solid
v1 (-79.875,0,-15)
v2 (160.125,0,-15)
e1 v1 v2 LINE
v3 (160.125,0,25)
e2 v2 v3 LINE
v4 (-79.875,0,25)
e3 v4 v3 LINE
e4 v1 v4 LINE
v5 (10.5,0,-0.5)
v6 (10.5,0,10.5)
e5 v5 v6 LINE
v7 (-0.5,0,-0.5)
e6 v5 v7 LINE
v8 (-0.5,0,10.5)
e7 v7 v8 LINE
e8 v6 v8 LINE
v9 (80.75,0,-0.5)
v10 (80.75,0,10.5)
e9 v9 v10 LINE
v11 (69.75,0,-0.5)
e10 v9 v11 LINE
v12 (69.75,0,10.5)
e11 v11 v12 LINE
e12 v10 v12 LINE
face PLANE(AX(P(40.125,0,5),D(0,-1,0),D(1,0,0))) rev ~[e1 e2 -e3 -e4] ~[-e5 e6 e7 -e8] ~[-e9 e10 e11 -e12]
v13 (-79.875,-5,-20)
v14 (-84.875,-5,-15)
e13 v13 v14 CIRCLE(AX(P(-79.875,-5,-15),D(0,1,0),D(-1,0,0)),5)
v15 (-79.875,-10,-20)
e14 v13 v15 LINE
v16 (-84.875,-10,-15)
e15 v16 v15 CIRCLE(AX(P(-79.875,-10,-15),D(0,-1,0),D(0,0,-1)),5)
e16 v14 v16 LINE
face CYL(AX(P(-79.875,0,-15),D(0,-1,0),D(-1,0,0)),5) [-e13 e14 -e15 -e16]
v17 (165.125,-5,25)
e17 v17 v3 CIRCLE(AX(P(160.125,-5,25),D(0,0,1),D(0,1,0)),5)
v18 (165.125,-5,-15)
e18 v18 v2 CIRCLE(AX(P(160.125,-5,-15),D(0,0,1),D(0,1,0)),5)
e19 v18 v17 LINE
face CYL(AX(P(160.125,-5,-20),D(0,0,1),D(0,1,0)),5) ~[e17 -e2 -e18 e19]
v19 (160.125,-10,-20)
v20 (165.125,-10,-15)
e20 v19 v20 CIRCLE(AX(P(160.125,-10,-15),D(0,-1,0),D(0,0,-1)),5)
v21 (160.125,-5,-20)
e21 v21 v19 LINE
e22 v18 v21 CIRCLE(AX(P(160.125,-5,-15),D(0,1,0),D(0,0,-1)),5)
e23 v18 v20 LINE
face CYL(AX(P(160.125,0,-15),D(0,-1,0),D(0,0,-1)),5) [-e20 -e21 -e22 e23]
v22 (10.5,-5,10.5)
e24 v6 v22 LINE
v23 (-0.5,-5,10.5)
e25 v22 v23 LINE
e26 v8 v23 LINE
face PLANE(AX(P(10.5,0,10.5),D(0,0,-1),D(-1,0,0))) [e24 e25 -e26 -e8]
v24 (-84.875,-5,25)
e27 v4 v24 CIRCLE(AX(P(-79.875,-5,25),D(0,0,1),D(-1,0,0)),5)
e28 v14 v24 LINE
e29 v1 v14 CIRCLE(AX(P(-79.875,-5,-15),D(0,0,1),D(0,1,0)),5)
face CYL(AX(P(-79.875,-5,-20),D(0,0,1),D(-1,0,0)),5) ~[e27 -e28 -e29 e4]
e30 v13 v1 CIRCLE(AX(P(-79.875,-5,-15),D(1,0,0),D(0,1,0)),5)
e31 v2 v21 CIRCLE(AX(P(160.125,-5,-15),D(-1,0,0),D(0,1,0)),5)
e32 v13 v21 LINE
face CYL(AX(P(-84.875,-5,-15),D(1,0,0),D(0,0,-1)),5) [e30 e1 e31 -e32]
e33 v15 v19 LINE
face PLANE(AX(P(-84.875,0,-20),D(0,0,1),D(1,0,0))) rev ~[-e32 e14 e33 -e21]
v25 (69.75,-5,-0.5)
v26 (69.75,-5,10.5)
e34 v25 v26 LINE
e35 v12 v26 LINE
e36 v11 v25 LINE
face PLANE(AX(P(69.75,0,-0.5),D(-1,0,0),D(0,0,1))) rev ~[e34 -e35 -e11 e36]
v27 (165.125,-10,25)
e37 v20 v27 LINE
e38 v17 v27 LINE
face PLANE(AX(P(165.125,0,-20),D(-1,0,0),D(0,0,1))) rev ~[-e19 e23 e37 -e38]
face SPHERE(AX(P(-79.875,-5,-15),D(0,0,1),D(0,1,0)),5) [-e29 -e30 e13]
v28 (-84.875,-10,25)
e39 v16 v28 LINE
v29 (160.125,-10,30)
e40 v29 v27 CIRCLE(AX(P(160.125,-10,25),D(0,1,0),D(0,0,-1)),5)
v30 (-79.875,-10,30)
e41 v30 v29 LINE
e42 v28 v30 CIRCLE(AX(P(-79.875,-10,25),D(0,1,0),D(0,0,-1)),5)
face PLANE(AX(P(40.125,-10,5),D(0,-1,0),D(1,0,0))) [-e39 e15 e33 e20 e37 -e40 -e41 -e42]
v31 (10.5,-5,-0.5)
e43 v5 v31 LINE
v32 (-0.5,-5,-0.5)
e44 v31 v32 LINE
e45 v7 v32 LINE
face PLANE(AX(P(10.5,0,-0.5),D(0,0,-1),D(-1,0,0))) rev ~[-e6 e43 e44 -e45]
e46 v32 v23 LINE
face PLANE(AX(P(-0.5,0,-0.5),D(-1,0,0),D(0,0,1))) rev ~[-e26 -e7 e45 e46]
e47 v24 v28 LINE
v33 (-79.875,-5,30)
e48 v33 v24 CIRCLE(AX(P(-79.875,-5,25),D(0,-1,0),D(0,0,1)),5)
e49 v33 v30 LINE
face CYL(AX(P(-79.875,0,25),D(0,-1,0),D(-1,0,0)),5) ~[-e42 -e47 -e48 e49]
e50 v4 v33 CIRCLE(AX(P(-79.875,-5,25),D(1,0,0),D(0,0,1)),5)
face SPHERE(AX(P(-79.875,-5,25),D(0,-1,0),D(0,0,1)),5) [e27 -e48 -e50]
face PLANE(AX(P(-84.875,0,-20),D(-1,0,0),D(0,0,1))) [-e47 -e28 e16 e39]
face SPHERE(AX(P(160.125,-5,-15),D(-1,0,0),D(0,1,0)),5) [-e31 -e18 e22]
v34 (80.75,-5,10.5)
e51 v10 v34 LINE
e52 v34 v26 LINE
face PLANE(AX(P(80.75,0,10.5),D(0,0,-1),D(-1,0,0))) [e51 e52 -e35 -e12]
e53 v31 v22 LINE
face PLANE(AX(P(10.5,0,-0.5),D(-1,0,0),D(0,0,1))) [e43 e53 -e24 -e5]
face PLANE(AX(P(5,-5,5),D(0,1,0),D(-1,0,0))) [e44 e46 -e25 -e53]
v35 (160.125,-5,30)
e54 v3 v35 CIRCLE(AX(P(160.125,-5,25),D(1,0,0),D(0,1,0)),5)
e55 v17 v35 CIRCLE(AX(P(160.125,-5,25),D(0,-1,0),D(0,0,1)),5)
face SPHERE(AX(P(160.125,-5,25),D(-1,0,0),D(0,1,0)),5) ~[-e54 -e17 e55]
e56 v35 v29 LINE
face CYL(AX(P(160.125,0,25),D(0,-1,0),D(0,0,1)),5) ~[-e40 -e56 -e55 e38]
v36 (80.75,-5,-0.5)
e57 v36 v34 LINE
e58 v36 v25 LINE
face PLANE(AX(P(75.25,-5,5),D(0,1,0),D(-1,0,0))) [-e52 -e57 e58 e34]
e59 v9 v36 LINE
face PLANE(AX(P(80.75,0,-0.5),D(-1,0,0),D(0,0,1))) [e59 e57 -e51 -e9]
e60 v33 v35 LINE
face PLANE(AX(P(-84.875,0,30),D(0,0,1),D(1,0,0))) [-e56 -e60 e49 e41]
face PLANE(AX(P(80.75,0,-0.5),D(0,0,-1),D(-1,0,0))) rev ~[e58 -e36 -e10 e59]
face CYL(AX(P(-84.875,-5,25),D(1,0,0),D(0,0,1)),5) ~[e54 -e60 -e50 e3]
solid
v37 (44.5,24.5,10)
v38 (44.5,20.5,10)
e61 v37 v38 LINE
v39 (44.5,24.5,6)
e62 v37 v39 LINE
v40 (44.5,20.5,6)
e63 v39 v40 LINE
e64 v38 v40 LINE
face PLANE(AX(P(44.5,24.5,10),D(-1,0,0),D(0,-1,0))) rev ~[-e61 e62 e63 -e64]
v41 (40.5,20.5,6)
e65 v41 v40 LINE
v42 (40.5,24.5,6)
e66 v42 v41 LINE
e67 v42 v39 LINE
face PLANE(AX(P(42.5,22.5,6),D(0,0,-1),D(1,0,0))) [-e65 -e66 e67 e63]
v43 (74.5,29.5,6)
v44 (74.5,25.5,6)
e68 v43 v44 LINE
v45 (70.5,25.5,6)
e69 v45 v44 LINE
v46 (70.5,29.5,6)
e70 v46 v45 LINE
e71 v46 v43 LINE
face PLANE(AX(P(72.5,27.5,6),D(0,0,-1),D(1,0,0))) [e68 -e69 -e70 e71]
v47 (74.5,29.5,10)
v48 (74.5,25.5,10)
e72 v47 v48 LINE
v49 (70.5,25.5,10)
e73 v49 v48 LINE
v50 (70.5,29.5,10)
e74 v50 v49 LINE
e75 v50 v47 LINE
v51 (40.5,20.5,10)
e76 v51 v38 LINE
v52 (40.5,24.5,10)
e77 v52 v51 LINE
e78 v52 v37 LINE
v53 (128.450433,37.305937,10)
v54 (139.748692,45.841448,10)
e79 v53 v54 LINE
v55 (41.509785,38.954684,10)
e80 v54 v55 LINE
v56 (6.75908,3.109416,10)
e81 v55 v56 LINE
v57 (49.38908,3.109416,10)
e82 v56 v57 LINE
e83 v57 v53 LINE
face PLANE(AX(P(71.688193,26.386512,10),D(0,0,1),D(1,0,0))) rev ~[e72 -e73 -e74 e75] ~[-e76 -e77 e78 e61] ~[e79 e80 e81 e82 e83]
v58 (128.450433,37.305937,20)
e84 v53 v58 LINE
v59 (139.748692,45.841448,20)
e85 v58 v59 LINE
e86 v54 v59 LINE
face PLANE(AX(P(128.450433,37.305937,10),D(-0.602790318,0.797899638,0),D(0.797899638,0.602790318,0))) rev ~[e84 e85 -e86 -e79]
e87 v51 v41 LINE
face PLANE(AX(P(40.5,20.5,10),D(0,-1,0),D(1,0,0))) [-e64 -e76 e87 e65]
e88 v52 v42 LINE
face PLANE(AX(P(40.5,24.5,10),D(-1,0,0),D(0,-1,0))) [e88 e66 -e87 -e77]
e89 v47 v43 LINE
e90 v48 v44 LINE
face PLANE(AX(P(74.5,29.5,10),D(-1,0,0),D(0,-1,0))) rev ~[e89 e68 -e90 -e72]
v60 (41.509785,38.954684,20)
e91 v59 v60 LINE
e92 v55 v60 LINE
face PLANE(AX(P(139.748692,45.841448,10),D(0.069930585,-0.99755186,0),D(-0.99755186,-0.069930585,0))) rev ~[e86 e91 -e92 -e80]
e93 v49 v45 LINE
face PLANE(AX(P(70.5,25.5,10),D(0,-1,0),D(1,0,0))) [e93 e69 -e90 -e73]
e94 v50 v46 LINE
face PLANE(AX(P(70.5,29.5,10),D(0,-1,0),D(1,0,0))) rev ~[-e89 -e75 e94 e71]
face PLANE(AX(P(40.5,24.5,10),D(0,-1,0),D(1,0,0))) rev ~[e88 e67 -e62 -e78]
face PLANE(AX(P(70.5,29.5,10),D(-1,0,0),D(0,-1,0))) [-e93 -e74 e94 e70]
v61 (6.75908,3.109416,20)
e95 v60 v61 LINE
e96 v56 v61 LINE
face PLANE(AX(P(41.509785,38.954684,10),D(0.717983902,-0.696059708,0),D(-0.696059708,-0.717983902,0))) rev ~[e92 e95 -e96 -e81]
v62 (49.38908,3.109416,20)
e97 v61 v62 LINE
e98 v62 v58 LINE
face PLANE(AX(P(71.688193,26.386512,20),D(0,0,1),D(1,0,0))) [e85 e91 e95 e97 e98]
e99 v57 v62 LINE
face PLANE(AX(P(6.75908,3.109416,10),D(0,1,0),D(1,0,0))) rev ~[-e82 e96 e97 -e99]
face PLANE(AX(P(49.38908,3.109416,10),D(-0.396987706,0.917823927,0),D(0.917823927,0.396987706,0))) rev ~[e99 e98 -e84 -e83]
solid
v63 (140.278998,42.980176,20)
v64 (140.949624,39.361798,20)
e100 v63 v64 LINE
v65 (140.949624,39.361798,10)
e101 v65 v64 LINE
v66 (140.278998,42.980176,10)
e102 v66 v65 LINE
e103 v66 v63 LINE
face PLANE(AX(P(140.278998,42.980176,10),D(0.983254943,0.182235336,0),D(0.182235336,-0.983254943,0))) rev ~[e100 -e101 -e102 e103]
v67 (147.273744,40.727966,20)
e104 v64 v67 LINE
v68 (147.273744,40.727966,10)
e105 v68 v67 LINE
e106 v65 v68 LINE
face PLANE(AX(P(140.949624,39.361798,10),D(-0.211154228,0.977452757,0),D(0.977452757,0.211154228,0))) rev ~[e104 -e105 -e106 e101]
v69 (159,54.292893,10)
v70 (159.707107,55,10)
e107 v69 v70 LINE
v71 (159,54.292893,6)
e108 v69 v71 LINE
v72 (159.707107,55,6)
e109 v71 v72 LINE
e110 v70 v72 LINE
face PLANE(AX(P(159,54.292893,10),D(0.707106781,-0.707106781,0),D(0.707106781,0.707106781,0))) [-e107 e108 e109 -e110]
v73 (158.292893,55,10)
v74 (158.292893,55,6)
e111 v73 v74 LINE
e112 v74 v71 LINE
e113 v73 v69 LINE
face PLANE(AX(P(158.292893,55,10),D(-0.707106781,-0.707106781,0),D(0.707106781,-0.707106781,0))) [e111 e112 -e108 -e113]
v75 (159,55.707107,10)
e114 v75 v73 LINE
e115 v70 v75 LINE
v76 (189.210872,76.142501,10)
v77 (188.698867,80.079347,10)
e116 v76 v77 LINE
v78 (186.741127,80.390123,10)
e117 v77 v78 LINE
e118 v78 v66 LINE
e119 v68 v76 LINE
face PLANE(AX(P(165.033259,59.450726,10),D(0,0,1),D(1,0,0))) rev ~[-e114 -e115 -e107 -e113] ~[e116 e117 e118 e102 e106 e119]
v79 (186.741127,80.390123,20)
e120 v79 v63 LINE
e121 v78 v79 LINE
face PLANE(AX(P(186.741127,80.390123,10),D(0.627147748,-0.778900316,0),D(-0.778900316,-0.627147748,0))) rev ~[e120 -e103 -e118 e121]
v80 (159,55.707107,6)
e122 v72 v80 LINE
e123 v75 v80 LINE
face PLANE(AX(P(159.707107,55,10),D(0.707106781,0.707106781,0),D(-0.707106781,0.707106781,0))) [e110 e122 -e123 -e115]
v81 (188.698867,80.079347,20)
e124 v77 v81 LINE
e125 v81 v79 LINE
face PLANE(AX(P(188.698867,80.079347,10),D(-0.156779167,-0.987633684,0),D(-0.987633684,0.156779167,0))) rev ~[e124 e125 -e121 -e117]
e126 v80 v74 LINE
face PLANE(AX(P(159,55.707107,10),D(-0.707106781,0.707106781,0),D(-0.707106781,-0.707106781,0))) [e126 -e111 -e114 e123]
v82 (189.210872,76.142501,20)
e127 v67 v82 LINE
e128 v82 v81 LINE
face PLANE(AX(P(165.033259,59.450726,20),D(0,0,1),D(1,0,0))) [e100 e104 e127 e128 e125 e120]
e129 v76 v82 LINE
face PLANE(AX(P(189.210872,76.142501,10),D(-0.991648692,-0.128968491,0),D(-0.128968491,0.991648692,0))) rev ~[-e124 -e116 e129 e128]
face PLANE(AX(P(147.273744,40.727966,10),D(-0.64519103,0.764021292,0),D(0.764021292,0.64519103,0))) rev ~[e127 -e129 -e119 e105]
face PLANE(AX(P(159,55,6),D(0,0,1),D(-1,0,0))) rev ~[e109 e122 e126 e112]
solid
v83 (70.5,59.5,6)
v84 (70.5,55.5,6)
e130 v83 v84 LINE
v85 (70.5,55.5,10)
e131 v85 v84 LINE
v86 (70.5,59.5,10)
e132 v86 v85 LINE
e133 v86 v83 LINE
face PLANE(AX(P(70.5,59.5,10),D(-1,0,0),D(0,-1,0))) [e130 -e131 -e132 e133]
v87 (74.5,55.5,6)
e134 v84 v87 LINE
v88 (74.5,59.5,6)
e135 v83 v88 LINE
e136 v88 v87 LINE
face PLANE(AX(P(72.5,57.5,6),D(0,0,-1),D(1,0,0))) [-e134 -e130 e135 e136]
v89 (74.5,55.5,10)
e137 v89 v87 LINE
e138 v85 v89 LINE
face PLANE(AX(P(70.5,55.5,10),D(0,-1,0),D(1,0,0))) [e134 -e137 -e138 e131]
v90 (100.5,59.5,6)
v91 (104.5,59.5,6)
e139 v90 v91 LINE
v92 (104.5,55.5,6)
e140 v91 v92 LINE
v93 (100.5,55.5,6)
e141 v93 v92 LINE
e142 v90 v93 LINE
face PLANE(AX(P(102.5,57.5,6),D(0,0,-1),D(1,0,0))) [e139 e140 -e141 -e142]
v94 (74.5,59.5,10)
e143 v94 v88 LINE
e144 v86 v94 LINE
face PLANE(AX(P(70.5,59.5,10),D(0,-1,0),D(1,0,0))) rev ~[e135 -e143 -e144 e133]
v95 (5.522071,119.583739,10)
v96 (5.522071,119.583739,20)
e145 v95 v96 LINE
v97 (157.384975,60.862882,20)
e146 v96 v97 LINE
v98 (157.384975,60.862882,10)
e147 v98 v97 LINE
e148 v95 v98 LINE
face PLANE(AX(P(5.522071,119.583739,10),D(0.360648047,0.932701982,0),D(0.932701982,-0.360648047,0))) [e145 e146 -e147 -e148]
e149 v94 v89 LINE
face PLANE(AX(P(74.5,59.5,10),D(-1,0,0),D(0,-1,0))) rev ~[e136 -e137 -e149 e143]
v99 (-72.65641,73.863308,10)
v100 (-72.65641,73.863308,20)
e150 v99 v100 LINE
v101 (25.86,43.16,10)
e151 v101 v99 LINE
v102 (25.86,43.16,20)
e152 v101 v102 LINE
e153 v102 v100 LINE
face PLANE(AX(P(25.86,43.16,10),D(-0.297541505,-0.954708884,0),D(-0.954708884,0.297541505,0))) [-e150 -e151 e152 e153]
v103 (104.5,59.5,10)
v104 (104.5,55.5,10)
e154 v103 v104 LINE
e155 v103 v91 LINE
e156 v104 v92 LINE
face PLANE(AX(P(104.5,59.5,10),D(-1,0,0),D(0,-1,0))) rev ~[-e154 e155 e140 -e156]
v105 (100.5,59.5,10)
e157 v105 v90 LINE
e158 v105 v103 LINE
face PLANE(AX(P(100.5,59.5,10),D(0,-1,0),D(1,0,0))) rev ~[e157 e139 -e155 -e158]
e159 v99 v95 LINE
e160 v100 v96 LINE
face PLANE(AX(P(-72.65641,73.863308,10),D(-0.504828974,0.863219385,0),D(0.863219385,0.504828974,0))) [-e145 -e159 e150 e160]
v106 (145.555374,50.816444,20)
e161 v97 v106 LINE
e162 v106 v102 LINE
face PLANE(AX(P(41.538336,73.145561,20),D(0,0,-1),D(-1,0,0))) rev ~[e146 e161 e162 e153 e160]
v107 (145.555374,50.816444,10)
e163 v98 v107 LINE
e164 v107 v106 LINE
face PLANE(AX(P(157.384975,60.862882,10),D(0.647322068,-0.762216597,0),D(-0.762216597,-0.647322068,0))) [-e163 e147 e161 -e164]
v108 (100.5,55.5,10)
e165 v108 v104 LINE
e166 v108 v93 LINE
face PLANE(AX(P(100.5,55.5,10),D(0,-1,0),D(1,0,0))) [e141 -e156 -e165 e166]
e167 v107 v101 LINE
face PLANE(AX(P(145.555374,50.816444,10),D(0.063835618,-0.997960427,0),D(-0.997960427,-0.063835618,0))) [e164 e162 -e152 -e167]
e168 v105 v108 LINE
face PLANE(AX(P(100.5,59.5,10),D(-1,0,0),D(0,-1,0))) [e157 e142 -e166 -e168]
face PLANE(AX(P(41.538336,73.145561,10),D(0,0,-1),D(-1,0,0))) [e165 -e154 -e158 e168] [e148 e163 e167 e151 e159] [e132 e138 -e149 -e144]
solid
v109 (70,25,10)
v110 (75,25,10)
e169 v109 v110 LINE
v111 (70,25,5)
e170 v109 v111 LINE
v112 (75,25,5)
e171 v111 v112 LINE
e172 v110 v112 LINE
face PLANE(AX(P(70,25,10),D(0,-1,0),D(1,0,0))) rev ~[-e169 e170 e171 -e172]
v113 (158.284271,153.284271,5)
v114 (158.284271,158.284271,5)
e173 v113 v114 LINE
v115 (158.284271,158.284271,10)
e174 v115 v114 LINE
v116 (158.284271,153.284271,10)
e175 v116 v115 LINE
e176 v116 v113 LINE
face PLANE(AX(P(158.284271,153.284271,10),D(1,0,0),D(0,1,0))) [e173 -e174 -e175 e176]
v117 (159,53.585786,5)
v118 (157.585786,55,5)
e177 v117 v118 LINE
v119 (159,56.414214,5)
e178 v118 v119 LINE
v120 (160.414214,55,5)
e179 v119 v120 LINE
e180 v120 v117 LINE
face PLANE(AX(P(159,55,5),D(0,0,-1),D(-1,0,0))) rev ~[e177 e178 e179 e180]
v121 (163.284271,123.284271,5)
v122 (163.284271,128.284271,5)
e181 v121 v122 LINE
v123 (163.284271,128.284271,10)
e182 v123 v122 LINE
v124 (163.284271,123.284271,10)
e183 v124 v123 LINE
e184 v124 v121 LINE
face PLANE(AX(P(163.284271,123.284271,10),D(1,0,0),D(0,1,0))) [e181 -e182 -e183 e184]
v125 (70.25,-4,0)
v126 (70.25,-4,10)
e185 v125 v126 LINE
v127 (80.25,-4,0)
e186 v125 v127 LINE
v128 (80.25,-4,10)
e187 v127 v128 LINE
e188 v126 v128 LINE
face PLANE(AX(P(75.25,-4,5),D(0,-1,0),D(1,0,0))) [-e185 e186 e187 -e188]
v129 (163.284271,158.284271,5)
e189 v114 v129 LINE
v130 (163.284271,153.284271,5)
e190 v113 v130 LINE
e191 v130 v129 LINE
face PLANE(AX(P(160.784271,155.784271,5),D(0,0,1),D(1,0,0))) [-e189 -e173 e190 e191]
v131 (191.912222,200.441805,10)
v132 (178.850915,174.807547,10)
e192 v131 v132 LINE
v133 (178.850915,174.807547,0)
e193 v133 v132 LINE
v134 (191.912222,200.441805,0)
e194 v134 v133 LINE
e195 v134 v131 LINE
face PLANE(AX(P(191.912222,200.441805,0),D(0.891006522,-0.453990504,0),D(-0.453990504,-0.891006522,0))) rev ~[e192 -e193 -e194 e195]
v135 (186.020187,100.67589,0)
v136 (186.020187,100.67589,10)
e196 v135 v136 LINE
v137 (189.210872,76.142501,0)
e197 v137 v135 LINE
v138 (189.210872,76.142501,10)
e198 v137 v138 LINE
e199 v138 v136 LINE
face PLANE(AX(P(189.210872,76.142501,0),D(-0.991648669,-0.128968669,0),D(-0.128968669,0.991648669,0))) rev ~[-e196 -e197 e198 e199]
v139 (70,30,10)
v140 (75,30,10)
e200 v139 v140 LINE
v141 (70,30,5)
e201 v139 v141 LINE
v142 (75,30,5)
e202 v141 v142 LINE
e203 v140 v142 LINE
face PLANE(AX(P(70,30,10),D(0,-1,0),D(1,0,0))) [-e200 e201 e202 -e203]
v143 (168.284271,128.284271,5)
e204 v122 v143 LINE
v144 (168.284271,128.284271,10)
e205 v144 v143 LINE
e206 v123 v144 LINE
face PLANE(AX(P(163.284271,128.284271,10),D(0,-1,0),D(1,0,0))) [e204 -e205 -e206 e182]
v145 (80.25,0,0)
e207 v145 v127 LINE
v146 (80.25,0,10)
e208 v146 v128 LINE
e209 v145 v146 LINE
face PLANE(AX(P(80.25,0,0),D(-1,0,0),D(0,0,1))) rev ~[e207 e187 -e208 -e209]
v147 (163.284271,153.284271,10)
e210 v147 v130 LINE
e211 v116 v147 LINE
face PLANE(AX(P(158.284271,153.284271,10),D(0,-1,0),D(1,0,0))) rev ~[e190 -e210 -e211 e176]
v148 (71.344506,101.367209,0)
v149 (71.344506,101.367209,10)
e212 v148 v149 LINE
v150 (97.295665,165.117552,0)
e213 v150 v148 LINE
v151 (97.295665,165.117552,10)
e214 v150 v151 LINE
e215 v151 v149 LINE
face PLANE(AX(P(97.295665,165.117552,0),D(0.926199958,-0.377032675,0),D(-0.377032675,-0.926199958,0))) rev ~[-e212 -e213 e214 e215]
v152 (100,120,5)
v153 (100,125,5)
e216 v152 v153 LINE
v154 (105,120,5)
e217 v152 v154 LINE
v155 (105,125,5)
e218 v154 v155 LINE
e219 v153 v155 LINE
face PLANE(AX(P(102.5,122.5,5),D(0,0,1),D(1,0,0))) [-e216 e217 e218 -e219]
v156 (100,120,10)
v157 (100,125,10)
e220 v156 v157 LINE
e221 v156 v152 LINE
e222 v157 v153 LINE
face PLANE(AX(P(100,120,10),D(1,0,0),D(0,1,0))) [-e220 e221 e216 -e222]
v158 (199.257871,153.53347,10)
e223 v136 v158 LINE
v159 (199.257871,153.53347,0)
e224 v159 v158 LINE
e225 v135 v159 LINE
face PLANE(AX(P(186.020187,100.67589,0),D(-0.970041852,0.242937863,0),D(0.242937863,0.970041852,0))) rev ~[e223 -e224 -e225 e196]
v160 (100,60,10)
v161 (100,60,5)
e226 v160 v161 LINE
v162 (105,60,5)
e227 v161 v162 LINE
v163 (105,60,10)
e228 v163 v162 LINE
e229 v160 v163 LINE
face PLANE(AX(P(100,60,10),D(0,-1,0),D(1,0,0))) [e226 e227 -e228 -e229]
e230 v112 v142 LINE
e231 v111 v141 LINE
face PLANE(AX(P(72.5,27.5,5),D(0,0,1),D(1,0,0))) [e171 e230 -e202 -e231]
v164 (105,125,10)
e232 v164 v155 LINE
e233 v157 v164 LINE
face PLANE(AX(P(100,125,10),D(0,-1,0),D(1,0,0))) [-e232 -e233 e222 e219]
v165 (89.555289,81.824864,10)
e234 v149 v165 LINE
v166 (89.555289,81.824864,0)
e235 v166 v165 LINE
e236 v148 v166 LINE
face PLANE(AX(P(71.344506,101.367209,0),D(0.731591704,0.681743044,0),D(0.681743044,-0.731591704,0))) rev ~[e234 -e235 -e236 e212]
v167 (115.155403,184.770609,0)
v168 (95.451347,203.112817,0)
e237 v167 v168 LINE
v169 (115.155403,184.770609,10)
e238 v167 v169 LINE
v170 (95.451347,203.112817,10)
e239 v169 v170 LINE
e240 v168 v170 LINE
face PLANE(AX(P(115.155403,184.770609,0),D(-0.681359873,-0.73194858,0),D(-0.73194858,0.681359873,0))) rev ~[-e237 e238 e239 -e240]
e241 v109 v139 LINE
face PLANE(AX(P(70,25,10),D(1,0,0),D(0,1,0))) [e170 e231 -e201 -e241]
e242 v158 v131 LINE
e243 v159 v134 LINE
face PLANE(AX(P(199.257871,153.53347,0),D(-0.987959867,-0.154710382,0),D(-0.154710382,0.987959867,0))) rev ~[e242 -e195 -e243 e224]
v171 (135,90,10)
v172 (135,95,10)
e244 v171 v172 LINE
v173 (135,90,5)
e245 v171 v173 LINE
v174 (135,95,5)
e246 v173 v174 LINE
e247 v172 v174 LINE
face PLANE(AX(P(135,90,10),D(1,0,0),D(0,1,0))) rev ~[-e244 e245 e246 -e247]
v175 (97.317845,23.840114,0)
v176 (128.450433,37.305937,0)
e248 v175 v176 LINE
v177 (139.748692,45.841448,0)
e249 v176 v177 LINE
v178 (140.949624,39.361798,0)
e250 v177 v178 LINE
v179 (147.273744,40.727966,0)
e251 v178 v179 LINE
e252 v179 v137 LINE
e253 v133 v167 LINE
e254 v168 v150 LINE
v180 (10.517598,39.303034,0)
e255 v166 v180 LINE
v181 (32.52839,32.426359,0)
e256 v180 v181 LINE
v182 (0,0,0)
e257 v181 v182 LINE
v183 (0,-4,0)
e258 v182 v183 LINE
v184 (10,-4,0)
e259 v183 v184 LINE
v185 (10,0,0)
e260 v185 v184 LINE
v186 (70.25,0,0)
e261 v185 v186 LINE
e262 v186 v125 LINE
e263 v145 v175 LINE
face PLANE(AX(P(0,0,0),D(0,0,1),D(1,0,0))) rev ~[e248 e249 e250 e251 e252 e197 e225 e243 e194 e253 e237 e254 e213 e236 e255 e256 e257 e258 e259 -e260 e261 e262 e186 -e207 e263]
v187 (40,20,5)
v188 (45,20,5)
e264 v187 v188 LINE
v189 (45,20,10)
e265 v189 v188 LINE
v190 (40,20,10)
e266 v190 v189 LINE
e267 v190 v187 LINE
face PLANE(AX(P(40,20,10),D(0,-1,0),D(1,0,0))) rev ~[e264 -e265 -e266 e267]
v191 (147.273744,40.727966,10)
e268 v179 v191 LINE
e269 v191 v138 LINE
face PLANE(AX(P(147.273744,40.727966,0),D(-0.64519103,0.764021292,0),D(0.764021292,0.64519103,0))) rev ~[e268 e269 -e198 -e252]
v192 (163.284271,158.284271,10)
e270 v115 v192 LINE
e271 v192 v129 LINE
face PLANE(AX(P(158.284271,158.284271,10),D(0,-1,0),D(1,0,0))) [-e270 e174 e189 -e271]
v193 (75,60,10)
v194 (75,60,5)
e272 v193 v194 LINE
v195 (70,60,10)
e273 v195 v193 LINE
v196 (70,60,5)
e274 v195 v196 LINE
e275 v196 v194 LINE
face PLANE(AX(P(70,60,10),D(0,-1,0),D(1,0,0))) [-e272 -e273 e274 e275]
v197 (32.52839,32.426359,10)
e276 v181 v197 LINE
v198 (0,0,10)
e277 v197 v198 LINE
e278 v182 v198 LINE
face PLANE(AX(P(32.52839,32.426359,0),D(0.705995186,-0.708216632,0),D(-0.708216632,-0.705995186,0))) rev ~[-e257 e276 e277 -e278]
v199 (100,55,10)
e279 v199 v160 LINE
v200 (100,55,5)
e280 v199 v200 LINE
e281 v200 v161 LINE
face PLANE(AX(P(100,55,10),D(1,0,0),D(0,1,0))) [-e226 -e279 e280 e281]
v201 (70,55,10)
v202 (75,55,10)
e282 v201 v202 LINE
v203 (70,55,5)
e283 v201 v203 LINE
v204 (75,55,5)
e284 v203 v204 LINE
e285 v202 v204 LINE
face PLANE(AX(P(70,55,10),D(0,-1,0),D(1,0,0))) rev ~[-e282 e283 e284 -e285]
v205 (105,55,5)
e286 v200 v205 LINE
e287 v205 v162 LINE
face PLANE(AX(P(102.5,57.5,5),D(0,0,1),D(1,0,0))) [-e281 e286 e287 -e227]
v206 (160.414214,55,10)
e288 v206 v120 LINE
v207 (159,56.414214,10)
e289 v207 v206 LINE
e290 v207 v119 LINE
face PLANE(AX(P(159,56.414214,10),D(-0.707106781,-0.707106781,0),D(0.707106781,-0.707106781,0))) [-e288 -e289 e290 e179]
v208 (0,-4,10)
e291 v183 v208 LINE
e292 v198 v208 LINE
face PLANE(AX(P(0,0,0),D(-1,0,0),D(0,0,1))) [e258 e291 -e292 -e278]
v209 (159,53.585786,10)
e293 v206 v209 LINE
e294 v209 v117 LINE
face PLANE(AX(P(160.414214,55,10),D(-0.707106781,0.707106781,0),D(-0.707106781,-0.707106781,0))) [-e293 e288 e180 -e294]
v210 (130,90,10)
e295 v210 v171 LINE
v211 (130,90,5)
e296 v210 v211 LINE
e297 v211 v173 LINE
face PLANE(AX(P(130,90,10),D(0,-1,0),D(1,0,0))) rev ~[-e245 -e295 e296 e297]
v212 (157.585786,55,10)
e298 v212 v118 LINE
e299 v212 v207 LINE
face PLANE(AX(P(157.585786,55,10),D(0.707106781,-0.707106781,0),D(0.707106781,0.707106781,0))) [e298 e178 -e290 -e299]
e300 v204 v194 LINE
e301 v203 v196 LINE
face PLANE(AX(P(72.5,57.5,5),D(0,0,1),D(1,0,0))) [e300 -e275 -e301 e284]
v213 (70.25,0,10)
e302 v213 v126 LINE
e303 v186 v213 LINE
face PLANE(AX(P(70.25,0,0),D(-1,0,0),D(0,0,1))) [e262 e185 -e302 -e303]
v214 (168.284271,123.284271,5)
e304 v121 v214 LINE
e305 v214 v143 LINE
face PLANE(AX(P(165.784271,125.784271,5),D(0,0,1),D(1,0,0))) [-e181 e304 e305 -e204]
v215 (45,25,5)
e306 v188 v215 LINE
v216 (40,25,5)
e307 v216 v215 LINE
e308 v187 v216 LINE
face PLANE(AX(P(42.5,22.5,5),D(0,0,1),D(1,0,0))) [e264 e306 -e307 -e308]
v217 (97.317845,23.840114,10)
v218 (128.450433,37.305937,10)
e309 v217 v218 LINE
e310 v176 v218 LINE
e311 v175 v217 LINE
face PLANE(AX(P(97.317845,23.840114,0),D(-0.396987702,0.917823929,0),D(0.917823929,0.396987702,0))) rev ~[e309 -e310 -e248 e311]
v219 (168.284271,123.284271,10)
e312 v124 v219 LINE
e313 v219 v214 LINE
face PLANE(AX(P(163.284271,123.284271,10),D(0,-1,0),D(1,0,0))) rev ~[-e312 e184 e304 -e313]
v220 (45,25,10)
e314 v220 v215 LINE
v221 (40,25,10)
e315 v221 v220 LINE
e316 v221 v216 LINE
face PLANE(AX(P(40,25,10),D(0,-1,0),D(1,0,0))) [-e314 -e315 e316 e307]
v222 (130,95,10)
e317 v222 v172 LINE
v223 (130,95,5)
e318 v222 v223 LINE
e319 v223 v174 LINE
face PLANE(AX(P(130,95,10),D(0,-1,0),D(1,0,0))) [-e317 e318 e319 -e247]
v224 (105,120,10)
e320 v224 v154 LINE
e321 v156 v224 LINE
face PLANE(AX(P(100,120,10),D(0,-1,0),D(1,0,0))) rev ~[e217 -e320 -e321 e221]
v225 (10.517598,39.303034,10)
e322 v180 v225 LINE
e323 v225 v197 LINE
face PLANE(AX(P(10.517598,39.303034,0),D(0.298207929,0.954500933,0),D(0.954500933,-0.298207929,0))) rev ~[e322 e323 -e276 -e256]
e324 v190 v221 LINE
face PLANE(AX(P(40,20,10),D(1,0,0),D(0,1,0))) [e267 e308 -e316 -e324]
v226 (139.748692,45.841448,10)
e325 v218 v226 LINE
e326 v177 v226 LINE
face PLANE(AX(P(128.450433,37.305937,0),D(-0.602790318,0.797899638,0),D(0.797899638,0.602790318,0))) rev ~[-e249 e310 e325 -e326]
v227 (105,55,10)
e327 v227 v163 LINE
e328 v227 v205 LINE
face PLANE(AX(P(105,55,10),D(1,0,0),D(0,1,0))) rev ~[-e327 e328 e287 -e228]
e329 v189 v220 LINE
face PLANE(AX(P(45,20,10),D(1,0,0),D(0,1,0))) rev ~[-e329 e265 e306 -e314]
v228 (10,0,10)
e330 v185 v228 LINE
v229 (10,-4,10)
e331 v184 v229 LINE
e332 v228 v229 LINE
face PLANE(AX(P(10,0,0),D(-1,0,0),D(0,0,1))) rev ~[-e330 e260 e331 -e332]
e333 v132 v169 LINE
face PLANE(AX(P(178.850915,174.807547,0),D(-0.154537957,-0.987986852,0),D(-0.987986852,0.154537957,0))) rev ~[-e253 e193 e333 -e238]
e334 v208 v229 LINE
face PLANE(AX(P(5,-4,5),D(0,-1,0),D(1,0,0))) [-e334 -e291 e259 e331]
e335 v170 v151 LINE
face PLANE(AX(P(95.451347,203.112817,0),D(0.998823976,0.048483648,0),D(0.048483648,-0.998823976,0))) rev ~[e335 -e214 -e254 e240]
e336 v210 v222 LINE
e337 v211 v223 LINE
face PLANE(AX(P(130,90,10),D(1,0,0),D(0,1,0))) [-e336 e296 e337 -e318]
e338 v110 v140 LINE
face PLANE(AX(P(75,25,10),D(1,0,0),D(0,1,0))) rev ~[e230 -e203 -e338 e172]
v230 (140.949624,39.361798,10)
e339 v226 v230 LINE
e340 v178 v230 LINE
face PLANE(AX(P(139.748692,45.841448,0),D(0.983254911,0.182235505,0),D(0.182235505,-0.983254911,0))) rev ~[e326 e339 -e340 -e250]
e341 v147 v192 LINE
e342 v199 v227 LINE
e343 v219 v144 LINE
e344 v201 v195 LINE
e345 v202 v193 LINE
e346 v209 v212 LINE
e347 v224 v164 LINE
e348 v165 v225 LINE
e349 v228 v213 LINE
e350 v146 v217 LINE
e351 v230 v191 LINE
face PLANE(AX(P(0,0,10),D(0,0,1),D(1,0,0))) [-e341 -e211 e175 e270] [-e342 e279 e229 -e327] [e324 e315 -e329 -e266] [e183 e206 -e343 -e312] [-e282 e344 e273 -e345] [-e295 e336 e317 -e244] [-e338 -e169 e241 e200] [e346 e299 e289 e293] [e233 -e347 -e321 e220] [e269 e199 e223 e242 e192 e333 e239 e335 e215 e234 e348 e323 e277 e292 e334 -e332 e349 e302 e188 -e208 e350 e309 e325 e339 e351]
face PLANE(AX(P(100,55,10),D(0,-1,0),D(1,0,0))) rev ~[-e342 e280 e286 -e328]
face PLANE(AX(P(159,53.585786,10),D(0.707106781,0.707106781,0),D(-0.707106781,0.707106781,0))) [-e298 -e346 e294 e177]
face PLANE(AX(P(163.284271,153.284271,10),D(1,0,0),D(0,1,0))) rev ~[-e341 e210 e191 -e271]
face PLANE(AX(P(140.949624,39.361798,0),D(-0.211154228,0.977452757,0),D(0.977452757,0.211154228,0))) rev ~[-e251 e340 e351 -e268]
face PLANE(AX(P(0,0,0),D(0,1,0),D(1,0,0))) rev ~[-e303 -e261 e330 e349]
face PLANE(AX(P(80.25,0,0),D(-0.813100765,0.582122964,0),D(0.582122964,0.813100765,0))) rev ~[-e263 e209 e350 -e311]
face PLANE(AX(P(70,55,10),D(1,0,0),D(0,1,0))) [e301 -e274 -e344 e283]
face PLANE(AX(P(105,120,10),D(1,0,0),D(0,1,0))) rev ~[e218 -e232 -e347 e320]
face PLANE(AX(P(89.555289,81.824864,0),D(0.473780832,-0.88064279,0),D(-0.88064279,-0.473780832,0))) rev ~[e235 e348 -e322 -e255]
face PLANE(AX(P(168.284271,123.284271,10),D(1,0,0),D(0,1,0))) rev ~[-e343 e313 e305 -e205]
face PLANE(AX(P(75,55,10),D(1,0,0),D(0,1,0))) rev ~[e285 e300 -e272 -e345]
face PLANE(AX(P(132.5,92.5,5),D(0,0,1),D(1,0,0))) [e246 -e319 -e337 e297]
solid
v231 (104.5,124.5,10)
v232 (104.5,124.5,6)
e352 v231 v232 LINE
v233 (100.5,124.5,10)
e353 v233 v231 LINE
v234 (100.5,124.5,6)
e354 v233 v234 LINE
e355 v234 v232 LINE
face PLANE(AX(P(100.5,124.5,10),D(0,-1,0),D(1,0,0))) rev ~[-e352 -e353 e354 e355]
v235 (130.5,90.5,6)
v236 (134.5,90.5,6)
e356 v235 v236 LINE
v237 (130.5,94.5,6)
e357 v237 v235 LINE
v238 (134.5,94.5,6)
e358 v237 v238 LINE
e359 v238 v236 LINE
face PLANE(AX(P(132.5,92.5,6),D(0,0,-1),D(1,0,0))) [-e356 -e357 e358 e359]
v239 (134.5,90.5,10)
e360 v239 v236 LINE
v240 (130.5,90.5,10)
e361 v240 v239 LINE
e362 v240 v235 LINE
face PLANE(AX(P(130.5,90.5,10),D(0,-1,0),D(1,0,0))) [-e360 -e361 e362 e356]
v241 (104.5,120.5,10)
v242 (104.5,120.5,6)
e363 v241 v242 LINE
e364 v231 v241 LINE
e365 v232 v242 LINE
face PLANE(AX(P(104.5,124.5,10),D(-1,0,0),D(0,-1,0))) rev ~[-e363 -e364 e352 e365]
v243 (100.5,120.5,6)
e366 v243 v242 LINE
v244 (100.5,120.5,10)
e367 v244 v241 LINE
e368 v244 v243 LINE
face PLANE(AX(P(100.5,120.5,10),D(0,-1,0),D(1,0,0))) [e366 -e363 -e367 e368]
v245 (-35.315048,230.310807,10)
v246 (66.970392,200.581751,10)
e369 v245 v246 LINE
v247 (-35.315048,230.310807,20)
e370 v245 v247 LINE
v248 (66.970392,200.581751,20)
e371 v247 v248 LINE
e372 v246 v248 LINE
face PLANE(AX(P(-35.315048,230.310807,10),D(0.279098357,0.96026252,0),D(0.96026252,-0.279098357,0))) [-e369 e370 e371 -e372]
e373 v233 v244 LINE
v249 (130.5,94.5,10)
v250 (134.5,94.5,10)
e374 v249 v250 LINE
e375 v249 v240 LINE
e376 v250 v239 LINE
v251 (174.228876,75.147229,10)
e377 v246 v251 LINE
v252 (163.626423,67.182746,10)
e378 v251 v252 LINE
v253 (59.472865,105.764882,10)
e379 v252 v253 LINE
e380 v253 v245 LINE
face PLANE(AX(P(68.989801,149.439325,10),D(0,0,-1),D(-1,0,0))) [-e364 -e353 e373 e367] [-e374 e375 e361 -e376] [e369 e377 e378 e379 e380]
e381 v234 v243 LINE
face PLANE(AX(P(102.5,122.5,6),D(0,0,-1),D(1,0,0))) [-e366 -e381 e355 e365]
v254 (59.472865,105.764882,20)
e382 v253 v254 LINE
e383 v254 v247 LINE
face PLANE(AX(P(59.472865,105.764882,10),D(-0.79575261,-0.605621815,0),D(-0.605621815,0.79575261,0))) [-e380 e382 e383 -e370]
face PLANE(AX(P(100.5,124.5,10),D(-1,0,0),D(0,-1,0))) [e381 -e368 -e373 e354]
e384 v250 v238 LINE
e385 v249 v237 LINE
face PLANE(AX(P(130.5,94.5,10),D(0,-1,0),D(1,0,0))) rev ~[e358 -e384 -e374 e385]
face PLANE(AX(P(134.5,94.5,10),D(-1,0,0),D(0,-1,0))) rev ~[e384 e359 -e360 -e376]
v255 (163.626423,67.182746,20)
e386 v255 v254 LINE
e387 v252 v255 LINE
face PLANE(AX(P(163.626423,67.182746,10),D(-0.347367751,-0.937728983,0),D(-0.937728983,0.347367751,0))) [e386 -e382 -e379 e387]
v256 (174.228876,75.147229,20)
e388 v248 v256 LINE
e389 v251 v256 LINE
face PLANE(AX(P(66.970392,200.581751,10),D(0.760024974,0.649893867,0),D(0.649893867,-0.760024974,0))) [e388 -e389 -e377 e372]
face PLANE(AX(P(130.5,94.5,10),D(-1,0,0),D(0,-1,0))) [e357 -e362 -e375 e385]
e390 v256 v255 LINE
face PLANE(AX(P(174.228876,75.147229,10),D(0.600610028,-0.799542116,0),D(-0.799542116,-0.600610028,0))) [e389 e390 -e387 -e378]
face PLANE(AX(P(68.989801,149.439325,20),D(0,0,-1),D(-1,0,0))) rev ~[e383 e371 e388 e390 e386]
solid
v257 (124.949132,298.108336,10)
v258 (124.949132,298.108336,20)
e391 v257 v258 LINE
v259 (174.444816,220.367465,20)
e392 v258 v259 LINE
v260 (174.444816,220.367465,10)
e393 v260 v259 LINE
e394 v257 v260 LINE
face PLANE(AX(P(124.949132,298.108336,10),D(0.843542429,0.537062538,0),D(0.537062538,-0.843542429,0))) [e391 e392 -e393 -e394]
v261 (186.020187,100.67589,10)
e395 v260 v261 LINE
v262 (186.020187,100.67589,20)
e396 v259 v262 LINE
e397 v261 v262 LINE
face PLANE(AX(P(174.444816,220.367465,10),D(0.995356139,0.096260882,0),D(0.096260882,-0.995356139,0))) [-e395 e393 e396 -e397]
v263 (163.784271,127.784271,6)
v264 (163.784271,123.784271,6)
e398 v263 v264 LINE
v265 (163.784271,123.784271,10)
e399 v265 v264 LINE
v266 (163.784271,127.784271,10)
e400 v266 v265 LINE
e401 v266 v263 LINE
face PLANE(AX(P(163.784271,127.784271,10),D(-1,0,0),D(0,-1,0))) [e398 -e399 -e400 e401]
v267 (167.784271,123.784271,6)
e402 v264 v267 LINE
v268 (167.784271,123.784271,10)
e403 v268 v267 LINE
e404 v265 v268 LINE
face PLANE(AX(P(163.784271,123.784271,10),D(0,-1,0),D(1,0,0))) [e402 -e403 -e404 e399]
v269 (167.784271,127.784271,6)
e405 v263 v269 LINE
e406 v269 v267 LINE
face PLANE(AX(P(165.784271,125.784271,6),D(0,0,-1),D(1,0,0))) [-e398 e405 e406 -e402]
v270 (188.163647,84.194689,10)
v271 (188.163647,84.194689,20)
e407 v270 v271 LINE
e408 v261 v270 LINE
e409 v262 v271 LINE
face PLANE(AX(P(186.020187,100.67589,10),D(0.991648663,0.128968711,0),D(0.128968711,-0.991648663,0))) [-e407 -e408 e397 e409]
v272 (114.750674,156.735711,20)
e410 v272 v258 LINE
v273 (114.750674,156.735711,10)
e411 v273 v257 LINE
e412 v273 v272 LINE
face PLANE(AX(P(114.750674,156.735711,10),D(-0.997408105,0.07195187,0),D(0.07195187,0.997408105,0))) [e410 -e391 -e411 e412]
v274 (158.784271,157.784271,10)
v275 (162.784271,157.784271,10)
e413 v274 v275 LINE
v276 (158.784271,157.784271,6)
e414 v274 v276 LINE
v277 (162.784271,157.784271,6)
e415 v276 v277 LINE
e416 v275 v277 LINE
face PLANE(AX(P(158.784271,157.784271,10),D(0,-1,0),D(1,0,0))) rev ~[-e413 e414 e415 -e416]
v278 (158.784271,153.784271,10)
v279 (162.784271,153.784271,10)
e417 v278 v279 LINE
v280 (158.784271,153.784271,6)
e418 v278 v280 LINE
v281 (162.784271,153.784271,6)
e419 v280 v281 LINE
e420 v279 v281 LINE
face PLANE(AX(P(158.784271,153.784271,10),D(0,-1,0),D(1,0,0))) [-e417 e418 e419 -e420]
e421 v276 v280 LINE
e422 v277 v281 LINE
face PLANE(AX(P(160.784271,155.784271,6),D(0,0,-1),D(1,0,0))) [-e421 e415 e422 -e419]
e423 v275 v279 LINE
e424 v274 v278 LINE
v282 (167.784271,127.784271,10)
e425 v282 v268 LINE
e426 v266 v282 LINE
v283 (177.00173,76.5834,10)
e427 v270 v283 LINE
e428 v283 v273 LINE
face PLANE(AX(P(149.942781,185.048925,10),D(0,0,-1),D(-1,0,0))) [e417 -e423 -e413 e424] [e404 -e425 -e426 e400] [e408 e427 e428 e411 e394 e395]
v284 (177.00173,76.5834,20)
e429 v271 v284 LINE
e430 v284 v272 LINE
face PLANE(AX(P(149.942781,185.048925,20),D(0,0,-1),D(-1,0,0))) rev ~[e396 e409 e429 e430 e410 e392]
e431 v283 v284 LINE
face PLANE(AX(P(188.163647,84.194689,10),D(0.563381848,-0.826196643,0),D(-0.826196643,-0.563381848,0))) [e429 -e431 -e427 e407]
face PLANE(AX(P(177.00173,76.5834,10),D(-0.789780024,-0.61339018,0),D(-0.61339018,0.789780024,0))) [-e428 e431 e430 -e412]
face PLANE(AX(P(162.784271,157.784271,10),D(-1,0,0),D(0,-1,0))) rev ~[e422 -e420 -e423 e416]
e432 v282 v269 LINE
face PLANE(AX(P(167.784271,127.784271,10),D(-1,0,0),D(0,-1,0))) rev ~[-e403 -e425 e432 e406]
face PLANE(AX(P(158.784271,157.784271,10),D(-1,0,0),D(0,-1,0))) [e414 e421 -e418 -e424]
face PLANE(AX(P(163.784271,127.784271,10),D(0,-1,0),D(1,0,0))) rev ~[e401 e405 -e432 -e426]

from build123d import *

# Parameters (mm, degrees)
PAD_DEPTH       = 10
SKETCH001_W     = 10
SKETCH001_H     = 10
PAD001_DEPTH    = 4
SKETCH004_W     = 5
SKETCH004_H     = 5
POCKET001_DEPTH = 5
SKETCH002_W     = 250
SKETCH002_H     = 50
PAD002_DEPTH    = 10
SKETCH003_W     = 11
SKETCH003_H     = 11
POCKET_DEPTH    = 5
FILLET_R        = 5
PAD003_DEPTH    = 10
SKETCH006_W     = 4
SKETCH006_H     = 4
PAD004_DEPTH    = 4
PAD005_DEPTH    = 10
SKETCH008_W     = 4
SKETCH008_H     = 4
PAD006_DEPTH    = 4
PAD007_DEPTH    = 10
SKETCH011_W     = 4
SKETCH011_H     = 4
PAD008_DEPTH    = 4
PAD009_DEPTH    = 10
SKETCH013_W     = 4
SKETCH013_H     = 4
PAD010_DEPTH    = 4
PAD011_DEPTH    = 10
PAD012_DEPTH    = 4


with BuildPart() as back:
    # Sketch → Pad (new body)
    with BuildSketch(Plane.XY):
        Polygon((0, 0), (80.25, 0), (97.317845, 23.840114), (128.450433, 37.305937), (139.748692, 45.841448), (140.949624, 39.361798), (147.273744, 40.727966), (189.210872, 76.142501), (186.020187, 100.67589), (199.257871, 153.53347), (191.912222, 200.441805), (178.850915, 174.807547), (115.155403, 184.770609), (95.451347, 203.112817), (97.295665, 165.117552), (71.344506, 101.367209), (89.555289, 81.824864), (10.517598, 39.303034), (32.52839, 32.426359), align=None)
    extrude(amount=PAD_DEPTH)

    # Sketch001 (on Face12 of Pad) → Pad001 (join)
    with BuildSketch(Plane.XZ):
        with Locations((5, 5)):
            Rectangle(SKETCH001_W, SKETCH001_H)
        with Locations((75.25, 5)):
            Rectangle(SKETCH001_W, SKETCH001_H)
    extrude(amount=PAD001_DEPTH)

    # Sketch004 (on Face5 of Pad001) → Pocket001 (cut)
    with BuildSketch(Plane.XY.offset(10)):
        with Locations((42.5, 22.5)):
            Rectangle(SKETCH004_W, SKETCH004_H)
        with Locations((72.5, 27.5)):
            Rectangle(SKETCH004_W, SKETCH004_H)
        with Locations((72.5, 57.5)):
            Rectangle(SKETCH004_W, SKETCH004_H)
        with Locations((102.5, 57.5)):
            Rectangle(SKETCH004_W, SKETCH004_H)
        with Locations((102.5, 122.5)):
            Rectangle(SKETCH004_W, SKETCH004_H)
        with Locations((132.5, 92.5)):
            Rectangle(SKETCH004_W, SKETCH004_H)
        with Locations((160.784271, 155.784271)):
            Rectangle(SKETCH004_W, SKETCH004_H)
        with Locations((165.784271, 125.784271)):
            Rectangle(SKETCH004_W, SKETCH004_H)
        Polygon((157.585786, 55), (159, 56.414214), (160.414214, 55), (159, 53.585786), align=None)
    extrude(amount=-POCKET001_DEPTH, mode=Mode.SUBTRACT)


with BuildPart() as foot:
    # Sketch002 (on Face1 of ShapeBinder) → Pad002 (new body)
    with BuildSketch(Plane.XZ):
        with Locations((40.125, 5)):
            Rectangle(SKETCH002_W, SKETCH002_H)
    extrude(amount=PAD002_DEPTH)

    # Sketch003 (on Face5 of Pad002) → Pocket (cut)
    with BuildSketch(Plane(origin=(0, 0, 0), x_dir=(-1, 0, 0), z_dir=(0, 1, 0))):
        with Locations((-75.25, 5)):
            Rectangle(SKETCH003_W, SKETCH003_H)
        with Locations((-5, 5)):
            Rectangle(SKETCH003_W, SKETCH003_H)
    extrude(amount=-POCKET_DEPTH, mode=Mode.SUBTRACT)

    # Fillet
    fillet_edges = [foot.edges().sort_by_distance(p)[0] for p in [
        (-84.875, -5, 30),
        (40.125, 0, 30),
        (-84.875, 0, 5),
        (40.125, 0, -20),
        (165.125, 0, 5),
        (165.125, -5, 30),
        (165.125, -5, -20),
        (-84.875, -5, -20),
    ]]
    fillet(fillet_edges, radius=FILLET_R)


with BuildPart() as wingone:
    # Sketch005 (on Face1 of ShapeBinder001) → Pad003 (new body)
    with BuildSketch(Plane.XY.offset(10)):
        Polygon((49.38908, 3.109416), (128.450433, 37.305937), (139.748692, 45.841448), (41.509785, 38.954684), (6.75908, 3.109416), align=None)
    extrude(amount=PAD003_DEPTH)

    # Sketch006 (on Face6 of Pad003) → Pad004 (join)
    with BuildSketch(Plane(origin=(0, 0, 10), x_dir=(1, 0, 0), z_dir=(0, 0, -1))):
        with Locations((72.5, -27.5)):
            Rectangle(SKETCH006_W, SKETCH006_H)
        with Locations((42.5, -22.5)):
            Rectangle(SKETCH006_W, SKETCH006_H)
    extrude(amount=PAD004_DEPTH)


with BuildPart() as wingtwo:
    # Sketch007 (on Face1 of ShapeBinder002) → Pad005 (new body)
    with BuildSketch(Plane.XY.offset(10)):
        Polygon((157.384975, 60.862882), (145.555374, 50.816444), (25.86, 43.16), (-72.65641, 73.863308), (5.522071, 119.583739), align=None)
    extrude(amount=PAD005_DEPTH)

    # Sketch008 (on Face6 of Pad005) → Pad006 (join)
    with BuildSketch(Plane(origin=(0, 0, 10), x_dir=(1, 0, 0), z_dir=(0, 0, -1))):
        with Locations((72.5, -57.5)):
            Rectangle(SKETCH008_W, SKETCH008_H)
        with Locations((102.5, -57.5)):
            Rectangle(SKETCH008_W, SKETCH008_H)
    extrude(amount=PAD006_DEPTH)


with BuildPart() as wingthree:
    # Sketch010 (on Face1 of ShapeBinder003) → Pad007 (new body)
    with BuildSketch(Plane.XY.offset(10)):
        Polygon((174.228876, 75.147229), (163.626423, 67.182746), (59.472865, 105.764882), (-35.315048, 230.310807), (66.970392, 200.581751), align=None)
    extrude(amount=PAD007_DEPTH)

    # Sketch011 (on Face6 of Pad007) → Pad008 (join)
    with BuildSketch(Plane(origin=(0, 0, 10), x_dir=(1, 0, 0), z_dir=(0, 0, -1))):
        with Locations((132.5, -92.5)):
            Rectangle(SKETCH011_W, SKETCH011_H)
        with Locations((102.5, -122.5)):
            Rectangle(SKETCH011_W, SKETCH011_H)
    extrude(amount=PAD008_DEPTH)


with BuildPart() as wingfour:
    # Sketch012 (on Face1 of ShapeBinder004) → Pad009 (new body)
    with BuildSketch(Plane.XY.offset(10)):
        Polygon((186.020187, 100.67589), (188.163647, 84.194689), (177.00173, 76.5834), (114.750674, 156.735711), (124.949132, 298.108336), (174.444816, 220.367465), align=None)
    extrude(amount=PAD009_DEPTH)

    # Sketch013 (on Face7 of Pad009) → Pad010 (join)
    with BuildSketch(Plane(origin=(0, 0, 10), x_dir=(1, 0, 0), z_dir=(0, 0, -1))):
        with Locations((165.784271, -125.784271)):
            Rectangle(SKETCH013_W, SKETCH013_H)
        with Locations((160.784271, -155.784271)):
            Rectangle(SKETCH013_W, SKETCH013_H)
    extrude(amount=PAD010_DEPTH)


with BuildPart() as body:
    # Sketch014 (on Face1 of ShapeBinder005) → Pad011 (new body)
    with BuildSketch(Plane.XY.offset(10)):
        Polygon((189.210872, 76.142501), (188.698867, 80.079347), (186.741127, 80.390123), (140.278998, 42.980176), (140.949624, 39.361798), (147.273744, 40.727966), align=None)
    extrude(amount=PAD011_DEPTH)

    # Sketch015 (on Face7 of Pad011) → Pad012 (join)
    with BuildSketch(Plane(origin=(0, 0, 10), x_dir=(1, 0, 0), z_dir=(0, 0, -1))):
        Polygon((159, -54.292893), (159.707107, -55), (159, -55.707107), (158.292893, -55), align=None)
    extrude(amount=PAD012_DEPTH)


solid = Compound([back.part, foot.part, wingone.part, wingtwo.part, wingthree.part, wingfour.part, body.part])
